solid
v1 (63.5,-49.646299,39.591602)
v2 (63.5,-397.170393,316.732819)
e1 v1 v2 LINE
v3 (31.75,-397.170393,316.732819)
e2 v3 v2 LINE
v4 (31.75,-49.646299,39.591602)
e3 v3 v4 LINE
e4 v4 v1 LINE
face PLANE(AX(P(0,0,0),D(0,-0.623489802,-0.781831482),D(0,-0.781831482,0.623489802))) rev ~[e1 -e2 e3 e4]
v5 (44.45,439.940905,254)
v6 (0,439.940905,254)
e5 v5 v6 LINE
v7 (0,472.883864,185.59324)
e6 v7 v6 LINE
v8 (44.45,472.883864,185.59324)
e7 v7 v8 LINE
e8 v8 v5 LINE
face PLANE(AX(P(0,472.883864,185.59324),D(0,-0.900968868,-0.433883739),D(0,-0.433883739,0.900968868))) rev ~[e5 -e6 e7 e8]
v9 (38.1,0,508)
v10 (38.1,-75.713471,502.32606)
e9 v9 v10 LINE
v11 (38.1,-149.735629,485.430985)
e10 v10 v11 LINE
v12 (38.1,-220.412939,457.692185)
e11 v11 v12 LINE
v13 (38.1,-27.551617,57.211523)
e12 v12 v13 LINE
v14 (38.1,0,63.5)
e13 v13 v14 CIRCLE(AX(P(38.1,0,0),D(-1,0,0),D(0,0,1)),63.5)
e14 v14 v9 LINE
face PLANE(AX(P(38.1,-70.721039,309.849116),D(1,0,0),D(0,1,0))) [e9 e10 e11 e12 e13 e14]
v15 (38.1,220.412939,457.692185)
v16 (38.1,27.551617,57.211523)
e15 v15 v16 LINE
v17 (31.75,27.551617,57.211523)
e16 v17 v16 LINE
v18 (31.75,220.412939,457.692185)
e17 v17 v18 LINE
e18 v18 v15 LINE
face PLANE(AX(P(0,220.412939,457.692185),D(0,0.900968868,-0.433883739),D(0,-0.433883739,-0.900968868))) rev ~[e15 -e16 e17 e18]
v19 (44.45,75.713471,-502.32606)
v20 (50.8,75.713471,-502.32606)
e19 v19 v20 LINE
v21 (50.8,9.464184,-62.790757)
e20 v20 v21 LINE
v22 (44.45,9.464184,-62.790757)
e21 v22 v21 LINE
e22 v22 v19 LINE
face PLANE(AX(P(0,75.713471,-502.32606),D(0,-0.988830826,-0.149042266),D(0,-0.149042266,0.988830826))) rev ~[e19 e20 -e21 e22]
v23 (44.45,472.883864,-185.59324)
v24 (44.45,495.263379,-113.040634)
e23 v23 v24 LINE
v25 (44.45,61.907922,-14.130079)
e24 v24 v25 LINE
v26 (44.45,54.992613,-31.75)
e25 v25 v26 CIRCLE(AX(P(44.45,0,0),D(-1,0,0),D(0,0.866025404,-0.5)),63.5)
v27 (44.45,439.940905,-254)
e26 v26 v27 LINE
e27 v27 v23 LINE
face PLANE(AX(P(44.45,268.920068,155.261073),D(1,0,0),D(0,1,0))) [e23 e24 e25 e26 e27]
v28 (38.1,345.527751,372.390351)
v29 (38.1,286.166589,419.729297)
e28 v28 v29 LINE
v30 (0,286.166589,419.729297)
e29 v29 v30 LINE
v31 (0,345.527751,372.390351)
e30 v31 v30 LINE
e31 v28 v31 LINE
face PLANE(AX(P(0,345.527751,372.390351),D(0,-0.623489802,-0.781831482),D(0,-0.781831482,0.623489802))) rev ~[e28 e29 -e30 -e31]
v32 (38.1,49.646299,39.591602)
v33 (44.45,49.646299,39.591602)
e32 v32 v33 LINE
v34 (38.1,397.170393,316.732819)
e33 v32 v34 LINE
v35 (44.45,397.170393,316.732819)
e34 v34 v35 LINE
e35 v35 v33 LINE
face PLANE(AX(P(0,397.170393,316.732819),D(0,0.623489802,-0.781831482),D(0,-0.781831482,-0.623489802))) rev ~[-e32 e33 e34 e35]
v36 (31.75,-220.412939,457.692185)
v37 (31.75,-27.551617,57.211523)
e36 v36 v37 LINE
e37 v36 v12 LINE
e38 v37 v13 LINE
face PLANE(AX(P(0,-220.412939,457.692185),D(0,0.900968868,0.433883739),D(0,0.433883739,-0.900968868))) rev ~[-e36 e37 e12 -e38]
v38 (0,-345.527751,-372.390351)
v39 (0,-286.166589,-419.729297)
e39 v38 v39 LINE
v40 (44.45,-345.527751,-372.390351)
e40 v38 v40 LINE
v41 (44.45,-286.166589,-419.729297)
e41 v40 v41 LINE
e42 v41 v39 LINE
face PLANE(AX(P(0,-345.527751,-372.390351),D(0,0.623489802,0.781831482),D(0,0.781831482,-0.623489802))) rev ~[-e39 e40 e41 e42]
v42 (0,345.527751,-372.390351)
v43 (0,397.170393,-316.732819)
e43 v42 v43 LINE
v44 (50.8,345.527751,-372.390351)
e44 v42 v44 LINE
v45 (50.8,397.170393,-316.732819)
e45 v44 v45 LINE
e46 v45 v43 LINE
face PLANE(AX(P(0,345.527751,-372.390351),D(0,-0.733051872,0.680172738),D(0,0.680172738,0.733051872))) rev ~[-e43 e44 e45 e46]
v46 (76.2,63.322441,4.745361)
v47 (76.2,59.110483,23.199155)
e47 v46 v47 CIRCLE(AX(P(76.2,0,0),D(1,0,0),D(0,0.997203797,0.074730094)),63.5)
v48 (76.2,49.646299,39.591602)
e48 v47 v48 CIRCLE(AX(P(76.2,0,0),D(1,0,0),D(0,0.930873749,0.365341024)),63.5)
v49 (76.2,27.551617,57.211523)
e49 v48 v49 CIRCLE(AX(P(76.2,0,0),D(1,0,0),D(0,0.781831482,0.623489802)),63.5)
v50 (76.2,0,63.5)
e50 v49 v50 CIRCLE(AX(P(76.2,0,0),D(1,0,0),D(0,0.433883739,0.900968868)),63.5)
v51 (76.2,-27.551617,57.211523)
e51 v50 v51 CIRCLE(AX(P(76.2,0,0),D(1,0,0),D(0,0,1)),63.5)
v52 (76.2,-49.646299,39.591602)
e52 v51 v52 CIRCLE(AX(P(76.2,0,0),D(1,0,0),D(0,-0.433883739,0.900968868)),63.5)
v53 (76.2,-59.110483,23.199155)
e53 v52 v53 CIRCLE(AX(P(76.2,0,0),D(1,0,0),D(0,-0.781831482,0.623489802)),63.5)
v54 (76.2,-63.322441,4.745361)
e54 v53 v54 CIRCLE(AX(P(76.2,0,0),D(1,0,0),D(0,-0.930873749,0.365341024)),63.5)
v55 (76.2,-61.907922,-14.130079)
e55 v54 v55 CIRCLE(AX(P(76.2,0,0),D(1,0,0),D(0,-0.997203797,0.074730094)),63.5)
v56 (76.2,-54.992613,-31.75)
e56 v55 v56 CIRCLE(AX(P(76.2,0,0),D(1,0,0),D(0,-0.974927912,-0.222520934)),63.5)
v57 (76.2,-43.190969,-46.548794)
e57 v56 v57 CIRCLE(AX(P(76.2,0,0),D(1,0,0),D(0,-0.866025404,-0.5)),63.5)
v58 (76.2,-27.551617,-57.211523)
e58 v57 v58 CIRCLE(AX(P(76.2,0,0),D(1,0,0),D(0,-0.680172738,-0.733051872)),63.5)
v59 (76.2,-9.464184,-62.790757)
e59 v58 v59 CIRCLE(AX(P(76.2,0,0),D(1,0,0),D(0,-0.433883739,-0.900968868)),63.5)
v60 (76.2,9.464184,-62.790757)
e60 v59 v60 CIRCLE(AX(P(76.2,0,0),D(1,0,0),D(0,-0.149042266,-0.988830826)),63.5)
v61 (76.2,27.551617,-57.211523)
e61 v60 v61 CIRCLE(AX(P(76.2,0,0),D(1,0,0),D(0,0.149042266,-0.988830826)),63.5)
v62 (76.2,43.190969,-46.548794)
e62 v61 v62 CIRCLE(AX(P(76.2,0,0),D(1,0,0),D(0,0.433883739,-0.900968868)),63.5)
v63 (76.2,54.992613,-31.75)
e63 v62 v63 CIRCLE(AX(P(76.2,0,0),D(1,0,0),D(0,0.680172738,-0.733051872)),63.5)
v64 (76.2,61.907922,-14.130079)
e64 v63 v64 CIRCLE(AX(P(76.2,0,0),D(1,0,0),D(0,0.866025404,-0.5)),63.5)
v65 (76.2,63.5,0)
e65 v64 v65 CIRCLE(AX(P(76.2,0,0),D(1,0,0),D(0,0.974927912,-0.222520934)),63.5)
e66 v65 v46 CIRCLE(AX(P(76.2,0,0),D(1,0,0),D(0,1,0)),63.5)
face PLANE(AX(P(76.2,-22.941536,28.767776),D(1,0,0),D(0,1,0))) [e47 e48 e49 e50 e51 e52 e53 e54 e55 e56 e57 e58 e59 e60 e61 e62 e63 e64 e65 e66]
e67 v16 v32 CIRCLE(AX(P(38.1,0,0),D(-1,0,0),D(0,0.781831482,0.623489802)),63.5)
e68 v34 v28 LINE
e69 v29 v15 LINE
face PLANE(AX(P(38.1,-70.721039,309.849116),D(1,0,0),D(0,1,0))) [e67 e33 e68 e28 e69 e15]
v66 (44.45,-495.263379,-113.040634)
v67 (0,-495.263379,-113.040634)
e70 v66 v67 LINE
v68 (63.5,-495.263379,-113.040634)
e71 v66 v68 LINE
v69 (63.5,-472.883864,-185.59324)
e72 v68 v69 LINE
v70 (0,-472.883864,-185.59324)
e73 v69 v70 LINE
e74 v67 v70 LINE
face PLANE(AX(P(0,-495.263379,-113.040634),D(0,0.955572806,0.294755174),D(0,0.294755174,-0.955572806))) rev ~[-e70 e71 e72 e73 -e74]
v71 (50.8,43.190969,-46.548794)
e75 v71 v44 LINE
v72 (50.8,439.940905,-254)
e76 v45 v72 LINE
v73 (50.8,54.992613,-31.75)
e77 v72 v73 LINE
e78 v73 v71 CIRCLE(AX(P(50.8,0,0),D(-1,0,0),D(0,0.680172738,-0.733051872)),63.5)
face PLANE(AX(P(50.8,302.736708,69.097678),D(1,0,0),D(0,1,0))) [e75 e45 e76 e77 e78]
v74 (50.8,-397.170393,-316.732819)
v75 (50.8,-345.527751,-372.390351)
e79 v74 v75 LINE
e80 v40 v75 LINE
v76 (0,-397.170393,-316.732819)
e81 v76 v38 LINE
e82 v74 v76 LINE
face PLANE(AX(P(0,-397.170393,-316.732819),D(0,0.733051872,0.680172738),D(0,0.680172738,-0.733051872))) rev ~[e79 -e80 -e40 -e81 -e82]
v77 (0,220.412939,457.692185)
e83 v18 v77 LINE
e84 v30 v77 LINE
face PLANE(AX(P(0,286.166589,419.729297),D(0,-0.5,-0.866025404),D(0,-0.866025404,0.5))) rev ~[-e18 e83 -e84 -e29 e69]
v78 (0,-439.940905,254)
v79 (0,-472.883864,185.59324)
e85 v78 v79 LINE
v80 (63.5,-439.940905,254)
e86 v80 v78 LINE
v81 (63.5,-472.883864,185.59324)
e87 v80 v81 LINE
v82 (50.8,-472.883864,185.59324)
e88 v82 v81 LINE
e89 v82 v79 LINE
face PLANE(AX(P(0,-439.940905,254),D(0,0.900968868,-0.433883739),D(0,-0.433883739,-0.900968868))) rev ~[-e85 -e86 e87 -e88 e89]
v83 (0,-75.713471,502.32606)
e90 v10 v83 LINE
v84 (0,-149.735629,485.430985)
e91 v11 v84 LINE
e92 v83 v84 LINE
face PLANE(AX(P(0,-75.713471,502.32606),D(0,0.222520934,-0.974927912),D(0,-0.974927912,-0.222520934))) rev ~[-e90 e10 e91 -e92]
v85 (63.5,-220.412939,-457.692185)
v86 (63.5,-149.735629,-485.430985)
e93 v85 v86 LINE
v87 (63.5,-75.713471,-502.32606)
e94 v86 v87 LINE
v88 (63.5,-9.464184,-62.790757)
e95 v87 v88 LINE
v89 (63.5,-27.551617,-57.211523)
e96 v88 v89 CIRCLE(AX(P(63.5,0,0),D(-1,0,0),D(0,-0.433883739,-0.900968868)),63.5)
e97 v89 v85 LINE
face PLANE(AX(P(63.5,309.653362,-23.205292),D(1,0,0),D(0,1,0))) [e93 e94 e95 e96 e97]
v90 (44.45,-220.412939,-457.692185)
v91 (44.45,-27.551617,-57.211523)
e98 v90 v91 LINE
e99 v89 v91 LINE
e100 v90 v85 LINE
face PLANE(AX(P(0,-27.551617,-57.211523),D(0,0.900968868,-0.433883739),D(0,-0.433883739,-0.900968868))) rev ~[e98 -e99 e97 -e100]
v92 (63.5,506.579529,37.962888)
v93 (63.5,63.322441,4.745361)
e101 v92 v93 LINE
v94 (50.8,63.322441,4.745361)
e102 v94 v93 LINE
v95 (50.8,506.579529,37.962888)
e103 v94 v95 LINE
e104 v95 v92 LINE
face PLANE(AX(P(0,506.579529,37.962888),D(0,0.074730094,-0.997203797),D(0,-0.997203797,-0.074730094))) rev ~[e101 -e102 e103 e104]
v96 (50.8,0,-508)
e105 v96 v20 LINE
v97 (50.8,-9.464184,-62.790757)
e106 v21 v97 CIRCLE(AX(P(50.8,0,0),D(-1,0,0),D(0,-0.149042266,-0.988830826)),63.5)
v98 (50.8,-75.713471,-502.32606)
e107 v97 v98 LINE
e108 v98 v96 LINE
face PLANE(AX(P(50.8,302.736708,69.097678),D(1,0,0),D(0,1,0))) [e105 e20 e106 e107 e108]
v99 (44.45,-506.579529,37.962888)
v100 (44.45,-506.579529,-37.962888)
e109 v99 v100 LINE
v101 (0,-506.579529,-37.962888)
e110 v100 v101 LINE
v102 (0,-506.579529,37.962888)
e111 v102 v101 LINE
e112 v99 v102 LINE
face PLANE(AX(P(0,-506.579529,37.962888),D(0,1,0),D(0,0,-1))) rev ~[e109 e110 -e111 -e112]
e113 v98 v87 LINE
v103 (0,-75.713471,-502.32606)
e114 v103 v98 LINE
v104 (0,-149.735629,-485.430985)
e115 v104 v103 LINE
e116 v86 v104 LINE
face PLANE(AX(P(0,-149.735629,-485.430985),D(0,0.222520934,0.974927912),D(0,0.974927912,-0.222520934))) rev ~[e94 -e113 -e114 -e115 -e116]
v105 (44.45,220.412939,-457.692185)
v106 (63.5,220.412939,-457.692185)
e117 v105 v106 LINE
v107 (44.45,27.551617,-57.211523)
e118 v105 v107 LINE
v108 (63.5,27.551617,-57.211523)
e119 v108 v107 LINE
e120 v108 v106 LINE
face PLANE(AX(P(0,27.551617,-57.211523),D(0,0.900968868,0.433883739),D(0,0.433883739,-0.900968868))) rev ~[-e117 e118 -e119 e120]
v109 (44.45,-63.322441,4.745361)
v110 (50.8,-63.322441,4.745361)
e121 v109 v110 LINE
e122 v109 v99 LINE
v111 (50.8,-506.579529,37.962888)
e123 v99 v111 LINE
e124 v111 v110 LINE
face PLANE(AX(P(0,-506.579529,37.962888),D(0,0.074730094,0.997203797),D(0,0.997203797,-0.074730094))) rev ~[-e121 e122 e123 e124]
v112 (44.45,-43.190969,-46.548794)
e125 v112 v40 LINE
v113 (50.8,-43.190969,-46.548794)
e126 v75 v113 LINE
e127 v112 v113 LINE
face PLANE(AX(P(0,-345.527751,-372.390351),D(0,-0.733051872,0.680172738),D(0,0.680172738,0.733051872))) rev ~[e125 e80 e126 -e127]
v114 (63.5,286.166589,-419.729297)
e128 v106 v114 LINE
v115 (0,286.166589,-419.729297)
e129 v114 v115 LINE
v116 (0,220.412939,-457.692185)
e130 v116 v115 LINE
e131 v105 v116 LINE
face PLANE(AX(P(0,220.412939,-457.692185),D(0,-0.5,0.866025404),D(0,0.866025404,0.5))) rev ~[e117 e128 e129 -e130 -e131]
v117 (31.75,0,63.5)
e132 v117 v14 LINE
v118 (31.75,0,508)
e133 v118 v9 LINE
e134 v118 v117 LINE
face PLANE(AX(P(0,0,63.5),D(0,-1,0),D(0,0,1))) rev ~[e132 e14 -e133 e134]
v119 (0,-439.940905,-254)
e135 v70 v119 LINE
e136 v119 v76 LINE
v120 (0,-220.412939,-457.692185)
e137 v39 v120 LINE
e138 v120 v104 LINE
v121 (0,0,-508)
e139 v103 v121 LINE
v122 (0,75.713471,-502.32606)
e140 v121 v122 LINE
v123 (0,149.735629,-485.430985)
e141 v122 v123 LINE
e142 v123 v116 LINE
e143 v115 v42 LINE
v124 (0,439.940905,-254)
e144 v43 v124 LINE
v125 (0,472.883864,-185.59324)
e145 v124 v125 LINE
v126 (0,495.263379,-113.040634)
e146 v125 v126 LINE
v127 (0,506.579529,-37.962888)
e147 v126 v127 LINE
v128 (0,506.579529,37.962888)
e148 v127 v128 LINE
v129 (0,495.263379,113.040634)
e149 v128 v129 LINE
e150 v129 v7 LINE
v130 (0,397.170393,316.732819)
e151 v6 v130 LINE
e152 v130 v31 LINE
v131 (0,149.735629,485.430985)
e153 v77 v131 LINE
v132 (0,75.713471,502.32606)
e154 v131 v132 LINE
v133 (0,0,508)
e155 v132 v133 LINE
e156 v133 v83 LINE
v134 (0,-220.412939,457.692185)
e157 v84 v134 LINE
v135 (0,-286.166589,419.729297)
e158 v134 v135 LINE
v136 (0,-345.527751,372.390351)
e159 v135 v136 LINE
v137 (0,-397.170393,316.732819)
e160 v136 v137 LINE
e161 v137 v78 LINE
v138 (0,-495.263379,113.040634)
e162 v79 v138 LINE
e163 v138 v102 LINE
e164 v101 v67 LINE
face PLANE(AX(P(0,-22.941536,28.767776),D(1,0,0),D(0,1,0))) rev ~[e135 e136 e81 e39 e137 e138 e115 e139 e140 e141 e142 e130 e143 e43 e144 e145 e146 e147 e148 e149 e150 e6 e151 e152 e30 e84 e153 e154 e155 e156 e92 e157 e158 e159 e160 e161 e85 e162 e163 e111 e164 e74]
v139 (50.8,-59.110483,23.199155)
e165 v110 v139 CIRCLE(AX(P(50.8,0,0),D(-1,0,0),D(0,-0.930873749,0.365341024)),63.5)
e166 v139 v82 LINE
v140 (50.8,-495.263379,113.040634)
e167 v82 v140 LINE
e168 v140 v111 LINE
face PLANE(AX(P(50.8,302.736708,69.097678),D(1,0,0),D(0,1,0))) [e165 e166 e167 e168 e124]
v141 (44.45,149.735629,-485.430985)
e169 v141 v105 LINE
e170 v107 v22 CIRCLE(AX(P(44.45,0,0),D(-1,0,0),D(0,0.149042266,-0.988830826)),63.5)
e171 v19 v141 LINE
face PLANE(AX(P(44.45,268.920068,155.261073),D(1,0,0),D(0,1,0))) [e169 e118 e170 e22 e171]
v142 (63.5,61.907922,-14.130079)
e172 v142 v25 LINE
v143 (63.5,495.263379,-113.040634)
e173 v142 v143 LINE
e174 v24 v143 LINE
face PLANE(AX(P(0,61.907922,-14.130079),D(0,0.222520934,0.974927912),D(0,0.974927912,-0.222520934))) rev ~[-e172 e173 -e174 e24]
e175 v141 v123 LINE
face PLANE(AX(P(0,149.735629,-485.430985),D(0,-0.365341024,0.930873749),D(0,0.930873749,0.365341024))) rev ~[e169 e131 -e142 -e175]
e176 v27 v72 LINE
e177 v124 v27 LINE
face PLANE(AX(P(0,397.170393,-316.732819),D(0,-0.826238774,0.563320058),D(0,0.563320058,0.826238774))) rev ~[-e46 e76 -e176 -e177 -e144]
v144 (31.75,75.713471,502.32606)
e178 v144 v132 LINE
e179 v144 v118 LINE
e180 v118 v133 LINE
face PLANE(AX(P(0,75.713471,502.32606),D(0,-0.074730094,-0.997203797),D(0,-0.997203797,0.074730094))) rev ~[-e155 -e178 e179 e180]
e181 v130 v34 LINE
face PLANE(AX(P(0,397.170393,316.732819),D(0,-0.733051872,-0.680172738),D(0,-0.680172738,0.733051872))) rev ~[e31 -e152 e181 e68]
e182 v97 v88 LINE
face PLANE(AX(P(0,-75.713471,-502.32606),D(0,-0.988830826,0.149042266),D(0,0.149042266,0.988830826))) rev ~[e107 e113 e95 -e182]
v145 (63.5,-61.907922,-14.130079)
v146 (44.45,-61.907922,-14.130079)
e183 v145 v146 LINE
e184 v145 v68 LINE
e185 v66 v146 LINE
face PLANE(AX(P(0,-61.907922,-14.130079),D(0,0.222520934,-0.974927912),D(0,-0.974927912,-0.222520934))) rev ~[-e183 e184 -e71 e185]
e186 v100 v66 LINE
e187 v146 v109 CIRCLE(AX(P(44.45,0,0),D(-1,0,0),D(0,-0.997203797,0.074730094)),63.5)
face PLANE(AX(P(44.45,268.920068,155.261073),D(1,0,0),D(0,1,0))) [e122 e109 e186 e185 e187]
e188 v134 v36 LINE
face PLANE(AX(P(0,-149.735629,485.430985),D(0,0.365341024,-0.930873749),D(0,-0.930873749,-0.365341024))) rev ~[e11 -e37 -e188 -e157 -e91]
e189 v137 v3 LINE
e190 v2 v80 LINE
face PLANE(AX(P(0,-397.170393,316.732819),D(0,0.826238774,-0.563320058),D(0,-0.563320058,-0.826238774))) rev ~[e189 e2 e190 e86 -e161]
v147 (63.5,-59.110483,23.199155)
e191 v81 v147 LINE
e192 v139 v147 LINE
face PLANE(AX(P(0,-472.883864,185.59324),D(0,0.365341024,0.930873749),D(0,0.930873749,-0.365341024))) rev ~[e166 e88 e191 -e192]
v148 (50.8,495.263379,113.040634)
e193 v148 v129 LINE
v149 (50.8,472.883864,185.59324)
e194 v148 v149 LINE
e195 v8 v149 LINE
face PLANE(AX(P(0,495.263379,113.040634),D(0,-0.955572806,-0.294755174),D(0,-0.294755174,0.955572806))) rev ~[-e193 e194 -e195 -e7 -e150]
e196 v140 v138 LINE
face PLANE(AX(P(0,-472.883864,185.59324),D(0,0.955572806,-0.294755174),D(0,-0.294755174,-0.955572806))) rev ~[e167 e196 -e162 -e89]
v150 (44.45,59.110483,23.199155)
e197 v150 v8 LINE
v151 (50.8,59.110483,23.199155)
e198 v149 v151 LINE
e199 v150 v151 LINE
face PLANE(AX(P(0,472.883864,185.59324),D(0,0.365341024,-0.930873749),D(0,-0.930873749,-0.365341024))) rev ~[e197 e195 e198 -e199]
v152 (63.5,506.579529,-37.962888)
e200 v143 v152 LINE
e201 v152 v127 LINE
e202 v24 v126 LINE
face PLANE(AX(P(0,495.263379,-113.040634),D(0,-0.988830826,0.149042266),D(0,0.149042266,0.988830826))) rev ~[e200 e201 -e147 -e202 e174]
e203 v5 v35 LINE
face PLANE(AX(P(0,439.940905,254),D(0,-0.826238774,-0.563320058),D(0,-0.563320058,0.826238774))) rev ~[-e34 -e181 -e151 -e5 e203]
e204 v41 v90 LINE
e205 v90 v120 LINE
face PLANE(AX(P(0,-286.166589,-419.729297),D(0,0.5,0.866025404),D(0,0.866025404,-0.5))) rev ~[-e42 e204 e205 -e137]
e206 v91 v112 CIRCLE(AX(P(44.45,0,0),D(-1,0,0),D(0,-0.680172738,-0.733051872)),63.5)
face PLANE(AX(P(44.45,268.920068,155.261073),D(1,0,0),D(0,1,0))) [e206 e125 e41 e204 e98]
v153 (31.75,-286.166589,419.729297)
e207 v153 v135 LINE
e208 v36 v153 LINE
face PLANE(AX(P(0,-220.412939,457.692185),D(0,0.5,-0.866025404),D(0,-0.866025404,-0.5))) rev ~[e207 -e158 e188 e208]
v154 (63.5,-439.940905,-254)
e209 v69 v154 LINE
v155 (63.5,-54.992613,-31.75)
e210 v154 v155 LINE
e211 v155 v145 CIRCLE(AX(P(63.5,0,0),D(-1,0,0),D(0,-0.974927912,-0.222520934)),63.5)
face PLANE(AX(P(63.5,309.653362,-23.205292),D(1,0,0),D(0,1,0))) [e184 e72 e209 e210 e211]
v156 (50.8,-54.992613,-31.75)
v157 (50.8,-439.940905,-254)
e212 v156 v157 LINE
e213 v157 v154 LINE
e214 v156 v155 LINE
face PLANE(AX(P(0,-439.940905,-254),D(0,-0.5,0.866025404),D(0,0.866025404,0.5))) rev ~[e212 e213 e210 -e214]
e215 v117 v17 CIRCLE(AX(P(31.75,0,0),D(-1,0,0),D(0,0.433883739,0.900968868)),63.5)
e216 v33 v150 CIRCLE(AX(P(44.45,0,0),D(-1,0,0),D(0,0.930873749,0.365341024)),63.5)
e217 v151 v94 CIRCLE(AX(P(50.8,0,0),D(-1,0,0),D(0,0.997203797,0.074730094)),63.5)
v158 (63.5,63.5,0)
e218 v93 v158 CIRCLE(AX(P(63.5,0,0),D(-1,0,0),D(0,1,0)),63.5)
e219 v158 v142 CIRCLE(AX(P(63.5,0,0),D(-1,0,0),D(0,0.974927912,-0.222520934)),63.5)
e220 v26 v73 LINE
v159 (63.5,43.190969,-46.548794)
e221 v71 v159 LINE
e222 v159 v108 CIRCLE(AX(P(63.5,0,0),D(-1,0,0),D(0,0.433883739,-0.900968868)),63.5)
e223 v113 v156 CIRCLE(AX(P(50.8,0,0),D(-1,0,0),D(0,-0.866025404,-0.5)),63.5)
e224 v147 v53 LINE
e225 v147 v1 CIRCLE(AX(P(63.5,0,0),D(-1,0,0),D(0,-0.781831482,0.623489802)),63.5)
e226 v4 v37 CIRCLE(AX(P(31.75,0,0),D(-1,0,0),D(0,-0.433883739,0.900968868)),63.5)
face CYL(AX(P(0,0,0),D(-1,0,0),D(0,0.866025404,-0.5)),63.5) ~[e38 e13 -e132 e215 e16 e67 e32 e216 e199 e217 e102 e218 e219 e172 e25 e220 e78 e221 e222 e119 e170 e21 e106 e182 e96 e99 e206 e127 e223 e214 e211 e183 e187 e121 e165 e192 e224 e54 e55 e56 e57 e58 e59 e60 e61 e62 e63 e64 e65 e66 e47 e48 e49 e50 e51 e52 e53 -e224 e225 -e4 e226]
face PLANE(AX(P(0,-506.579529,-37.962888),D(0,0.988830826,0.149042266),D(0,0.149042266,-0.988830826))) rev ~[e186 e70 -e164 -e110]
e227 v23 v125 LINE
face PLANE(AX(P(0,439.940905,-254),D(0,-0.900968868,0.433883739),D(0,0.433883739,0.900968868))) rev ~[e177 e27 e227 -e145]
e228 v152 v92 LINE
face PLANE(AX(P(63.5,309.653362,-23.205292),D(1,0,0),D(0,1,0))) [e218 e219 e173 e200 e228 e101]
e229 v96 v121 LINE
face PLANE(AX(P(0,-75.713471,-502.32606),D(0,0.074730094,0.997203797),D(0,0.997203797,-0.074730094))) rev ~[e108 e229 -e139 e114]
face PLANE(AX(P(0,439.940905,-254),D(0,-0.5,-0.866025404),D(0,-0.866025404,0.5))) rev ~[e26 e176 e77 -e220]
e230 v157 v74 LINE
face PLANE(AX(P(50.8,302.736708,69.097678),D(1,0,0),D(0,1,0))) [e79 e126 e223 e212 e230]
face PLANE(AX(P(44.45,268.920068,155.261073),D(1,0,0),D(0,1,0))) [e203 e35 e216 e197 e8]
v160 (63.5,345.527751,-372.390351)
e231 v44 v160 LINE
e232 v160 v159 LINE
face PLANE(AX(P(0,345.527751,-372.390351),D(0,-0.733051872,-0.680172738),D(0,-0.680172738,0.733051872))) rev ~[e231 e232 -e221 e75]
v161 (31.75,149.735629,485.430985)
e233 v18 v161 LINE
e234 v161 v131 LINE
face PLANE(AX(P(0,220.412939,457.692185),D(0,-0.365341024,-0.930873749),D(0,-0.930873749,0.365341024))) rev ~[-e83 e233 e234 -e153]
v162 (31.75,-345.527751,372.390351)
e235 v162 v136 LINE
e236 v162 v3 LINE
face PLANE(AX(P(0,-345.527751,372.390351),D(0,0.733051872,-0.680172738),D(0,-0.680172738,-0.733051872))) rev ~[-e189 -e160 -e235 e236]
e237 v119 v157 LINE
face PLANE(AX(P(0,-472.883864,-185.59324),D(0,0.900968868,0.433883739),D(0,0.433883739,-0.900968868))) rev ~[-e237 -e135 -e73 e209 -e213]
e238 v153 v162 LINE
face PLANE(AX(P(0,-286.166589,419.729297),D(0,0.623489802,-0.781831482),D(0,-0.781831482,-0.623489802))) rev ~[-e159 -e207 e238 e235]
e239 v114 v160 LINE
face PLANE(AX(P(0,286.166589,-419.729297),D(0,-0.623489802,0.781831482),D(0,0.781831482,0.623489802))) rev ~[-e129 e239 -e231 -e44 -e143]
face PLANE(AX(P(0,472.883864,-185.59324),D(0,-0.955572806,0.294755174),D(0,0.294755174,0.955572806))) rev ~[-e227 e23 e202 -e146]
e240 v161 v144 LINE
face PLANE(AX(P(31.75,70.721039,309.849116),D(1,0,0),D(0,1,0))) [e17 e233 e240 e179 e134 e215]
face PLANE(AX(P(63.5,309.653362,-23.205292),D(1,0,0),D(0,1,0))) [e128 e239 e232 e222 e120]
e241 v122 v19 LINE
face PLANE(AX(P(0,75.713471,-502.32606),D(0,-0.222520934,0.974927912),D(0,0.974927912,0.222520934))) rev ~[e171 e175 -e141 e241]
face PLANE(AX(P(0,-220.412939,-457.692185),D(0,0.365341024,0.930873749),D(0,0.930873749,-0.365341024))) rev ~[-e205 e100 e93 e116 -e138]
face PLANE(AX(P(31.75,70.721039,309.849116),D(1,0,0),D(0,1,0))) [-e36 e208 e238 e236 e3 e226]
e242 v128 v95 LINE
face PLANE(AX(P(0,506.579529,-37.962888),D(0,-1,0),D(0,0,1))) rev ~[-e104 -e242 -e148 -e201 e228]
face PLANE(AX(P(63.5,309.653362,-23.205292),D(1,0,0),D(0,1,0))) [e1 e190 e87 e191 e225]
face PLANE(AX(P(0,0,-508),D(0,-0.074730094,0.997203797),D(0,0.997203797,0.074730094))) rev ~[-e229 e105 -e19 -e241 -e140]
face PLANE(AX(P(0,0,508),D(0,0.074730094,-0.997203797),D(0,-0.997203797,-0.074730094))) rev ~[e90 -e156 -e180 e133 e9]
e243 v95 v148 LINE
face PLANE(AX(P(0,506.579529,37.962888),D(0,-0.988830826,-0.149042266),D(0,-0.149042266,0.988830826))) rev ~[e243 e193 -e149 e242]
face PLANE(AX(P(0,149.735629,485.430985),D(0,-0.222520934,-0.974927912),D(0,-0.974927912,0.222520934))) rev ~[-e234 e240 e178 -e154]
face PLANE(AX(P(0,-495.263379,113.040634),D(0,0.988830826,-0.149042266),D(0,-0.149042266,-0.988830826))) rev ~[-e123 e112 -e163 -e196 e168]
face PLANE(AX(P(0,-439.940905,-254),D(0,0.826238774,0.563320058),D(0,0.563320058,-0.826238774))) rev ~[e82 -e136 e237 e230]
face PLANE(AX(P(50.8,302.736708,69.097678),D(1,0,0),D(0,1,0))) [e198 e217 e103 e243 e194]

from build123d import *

# Parameters (mm, degrees)
F1_DEPTH = 25.4
F2_DEPTH = 31.75
F3_DEPTH = 38.1
F4_DEPTH = 44.45
F5_DEPTH = 50.8
F6_DEPTH = 63.5
F7_DEPTH = 76.2


with BuildPart() as f1:
    # F0 (on Right) → F1 (new body)
    with BuildSketch(Plane.YZ):
        with BuildLine():
            ThreePointArc((-27.551617434, 57.2115231118), (-14.1300793062, 61.9079224235), (0, 63.5))
            Line((0, 63.5), (0, 508))
            Line((0, 508), (-75.7134712175, 502.3260597224))
            Line((-75.7134712175, 502.3260597224), (-149.7356286007, 485.4309853394))
            Line((-149.7356286007, 485.4309853394), (-220.4129394717, 457.6921848944))
            Line((-220.4129394717, 457.6921848944), (-27.551617434, 57.2115231118))
        make_face()
        with BuildLine():
            Line((0, 508), (0, 63.5))
            ThreePointArc((0, 63.5), (14.1300793062, 61.9079224235), (27.551617434, 57.2115231118))
            Line((27.551617434, 57.2115231118), (220.4129394717, 457.6921848944))
            Line((220.4129394717, 457.6921848944), (149.7356286007, 485.4309853394))
            Line((149.7356286007, 485.4309853394), (75.7134712175, 502.3260597224))
            Line((75.7134712175, 502.3260597224), (0, 508))
        make_face()
        with BuildLine():
            Line((220.4129394717, 457.6921848944), (27.551617434, 57.2115231118))
            ThreePointArc((27.551617434, 57.2115231118), (39.591602418, 49.6462991367), (49.6462991367, 39.591602418))
            Line((49.6462991367, 39.591602418), (397.1703930938, 316.7328193442))
            Line((397.1703930938, 316.7328193442), (345.5277507876, 372.3903508896))
            Line((345.5277507876, 372.3903508896), (286.1665894963, 419.7292973525))
            Line((286.1665894963, 419.7292973525), (220.4129394717, 457.6921848944))
        make_face()
        with BuildLine():
            Line((59.1104830389, 23.1991550473), (472.8838643113, 185.5932403781))
            Line((472.8838643113, 185.5932403781), (439.9409051225, 254))
            Line((439.9409051225, 254), (397.1703930938, 316.7328193442))
            Line((397.1703930938, 316.7328193442), (49.6462991367, 39.591602418))
            ThreePointArc((49.6462991367, 39.591602418), (54.9926131403, 31.75), (59.1104830389, 23.1991550473))
        make_face()
        with BuildLine():
            Line((63.322441121, 4.7453609427), (506.579528968, 37.9628875419))
            Line((506.579528968, 37.9628875419), (495.2633793884, 113.0406344498))
            Line((495.2633793884, 113.0406344498), (472.8838643113, 185.5932403781))
            Line((472.8838643113, 185.5932403781), (59.1104830389, 23.1991550473))
            ThreePointArc((59.1104830389, 23.1991550473), (61.9079224235, 14.1300793062), (63.322441121, 4.7453609427))
        make_face()
        with BuildLine():
            Line((506.579528968, -37.9628875419), (506.579528968, 37.9628875419))
            Line((506.579528968, 37.9628875419), (63.322441121, 4.7453609427))
            ThreePointArc((63.322441121, 4.7453609427), (63.4555947541, 2.3743408365), (63.5, 0))
            ThreePointArc((63.5, 0), (63.1007253282, -7.1097442326), (61.9079224235, -14.1300793062))
            Line((61.9079224235, -14.1300793062), (495.2633793884, -113.0406344498))
            Line((495.2633793884, -113.0406344498), (506.579528968, -37.9628875419))
        make_face()
        with BuildLine():
            Line((472.8838643113, -185.5932403781), (495.2633793884, -113.0406344498))
            Line((495.2633793884, -113.0406344498), (61.9079224235, -14.1300793062))
            ThreePointArc((61.9079224235, -14.1300793062), (59.1104830389, -23.1991550473), (54.9926131403, -31.75))
            Line((54.9926131403, -31.75), (439.9409051225, -254))
            Line((439.9409051225, -254), (472.8838643113, -185.5932403781))
        make_face()
        with BuildLine():
            Line((439.9409051225, -254), (54.9926131403, -31.75))
            ThreePointArc((54.9926131403, -31.75), (49.6462991367, -39.591602418), (43.1909688485, -46.5487938612))
            Line((43.1909688485, -46.5487938612), (345.5277507876, -372.3903508896))
            Line((345.5277507876, -372.3903508896), (397.1703930938, -316.7328193442))
            Line((397.1703930938, -316.7328193442), (439.9409051225, -254))
        make_face()
        with BuildLine():
            Line((345.5277507876, -372.3903508896), (43.1909688485, -46.5487938612))
            ThreePointArc((43.1909688485, -46.5487938612), (35.770823687, -52.4661621691), (27.551617434, -57.2115231118))
            Line((27.551617434, -57.2115231118), (220.4129394717, -457.6921848944))
            Line((220.4129394717, -457.6921848944), (286.1665894963, -419.7292973525))
            Line((286.1665894963, -419.7292973525), (345.5277507876, -372.3903508896))
        make_face()
        with BuildLine():
            Line((220.4129394717, -457.6921848944), (27.551617434, -57.2115231118))
            ThreePointArc((27.551617434, -57.2115231118), (18.7169535751, -60.6788731674), (9.4641839022, -62.7907574653))
            Line((9.4641839022, -62.7907574653), (75.7134712175, -502.3260597224))
            Line((75.7134712175, -502.3260597224), (149.7356286007, -485.4309853394))
            Line((149.7356286007, -485.4309853394), (220.4129394717, -457.6921848944))
        make_face()
        with BuildLine():
            Line((75.7134712175, -502.3260597224), (9.4641839022, -62.7907574653))
            ThreePointArc((9.4641839022, -62.7907574653), (0, -63.5), (-9.4641839022, -62.7907574653))
            Line((-9.4641839022, -62.7907574653), (-75.7134712175, -502.3260597224))
            Line((-75.7134712175, -502.3260597224), (0, -508))
            Line((0, -508), (75.7134712175, -502.3260597224))
        make_face()
        with BuildLine():
            Line((-75.7134712175, -502.3260597224), (-9.4641839022, -62.7907574653))
            ThreePointArc((-9.4641839022, -62.7907574653), (-18.7169535751, -60.6788731674), (-27.551617434, -57.2115231118))
            Line((-27.551617434, -57.2115231118), (-220.4129394717, -457.6921848944))
            Line((-220.4129394717, -457.6921848944), (-149.7356286007, -485.4309853394))
            Line((-149.7356286007, -485.4309853394), (-75.7134712175, -502.3260597224))
        make_face()
        with BuildLine():
            Line((-220.4129394717, -457.6921848944), (-27.551617434, -57.2115231118))
            ThreePointArc((-27.551617434, -57.2115231118), (-35.770823687, -52.4661621691), (-43.1909688485, -46.5487938612))
            Line((-43.1909688485, -46.5487938612), (-345.5277507876, -372.3903508896))
            Line((-345.5277507876, -372.3903508896), (-286.1665894963, -419.7292973525))
            Line((-286.1665894963, -419.7292973525), (-220.4129394717, -457.6921848944))
        make_face()
        with BuildLine():
            Line((-345.5277507876, -372.3903508896), (-43.1909688485, -46.5487938612))
            ThreePointArc((-43.1909688485, -46.5487938612), (-49.6462991367, -39.591602418), (-54.9926131403, -31.75))
            Line((-54.9926131403, -31.75), (-439.9409051225, -254))
            Line((-439.9409051225, -254), (-397.1703930938, -316.7328193442))
            Line((-397.1703930938, -316.7328193442), (-345.5277507876, -372.3903508896))
        make_face()
        with BuildLine():
            Line((-439.9409051225, -254), (-54.9926131403, -31.75))
            ThreePointArc((-54.9926131403, -31.75), (-59.1104830389, -23.1991550473), (-61.9079224235, -14.1300793062))
            Line((-61.9079224235, -14.1300793062), (-495.2633793884, -113.0406344498))
            Line((-495.2633793884, -113.0406344498), (-472.8838643113, -185.5932403781))
            Line((-472.8838643113, -185.5932403781), (-439.9409051225, -254))
        make_face()
        with BuildLine():
            Line((-495.2633793884, -113.0406344498), (-61.9079224235, -14.1300793062))
            ThreePointArc((-61.9079224235, -14.1300793062), (-63.322441121, -4.7453609427), (-63.322441121, 4.7453609427))
            Line((-63.322441121, 4.7453609427), (-506.579528968, 37.9628875419))
            Line((-506.579528968, 37.9628875419), (-506.579528968, -37.9628875419))
            Line((-506.579528968, -37.9628875419), (-495.2633793884, -113.0406344498))
        make_face()
        with BuildLine():
            Line((-506.579528968, 37.9628875419), (-63.322441121, 4.7453609427))
            ThreePointArc((-63.322441121, 4.7453609427), (-61.9079224235, 14.1300793062), (-59.1104830389, 23.1991550473))
            Line((-59.1104830389, 23.1991550473), (-472.8838643113, 185.5932403781))
            Line((-472.8838643113, 185.5932403781), (-495.2633793884, 113.0406344498))
            Line((-495.2633793884, 113.0406344498), (-506.579528968, 37.9628875419))
        make_face()
        with BuildLine():
            ThreePointArc((-59.1104830389, 23.1991550473), (-54.9926131403, 31.75), (-49.6462991367, 39.591602418))
            Line((-49.6462991367, 39.591602418), (-397.1703930938, 316.7328193442))
            Line((-397.1703930938, 316.7328193442), (-439.9409051225, 254))
            Line((-439.9409051225, 254), (-472.8838643113, 185.5932403781))
            Line((-472.8838643113, 185.5932403781), (-59.1104830389, 23.1991550473))
        make_face()
        with BuildLine():
            ThreePointArc((-49.6462991367, 39.591602418), (-39.591602418, 49.6462991367), (-27.551617434, 57.2115231118))
            Line((-27.551617434, 57.2115231118), (-220.4129394717, 457.6921848944))
            Line((-220.4129394717, 457.6921848944), (-286.1665894963, 419.7292973525))
            Line((-286.1665894963, 419.7292973525), (-345.5277507876, 372.3903508896))
            Line((-345.5277507876, 372.3903508896), (-397.1703930938, 316.7328193442))
            Line((-397.1703930938, 316.7328193442), (-49.6462991367, 39.591602418))
        make_face()
    extrude(amount=F1_DEPTH)

    # F0 (on Right) → F2 (join)
    with BuildSketch(Plane.YZ):
        with BuildLine():
            Line((0, 508), (0, 63.5))
            ThreePointArc((0, 63.5), (14.1300793062, 61.9079224235), (27.551617434, 57.2115231118))
            Line((27.551617434, 57.2115231118), (220.4129394717, 457.6921848944))
            Line((220.4129394717, 457.6921848944), (149.7356286007, 485.4309853394))
            Line((149.7356286007, 485.4309853394), (75.7134712175, 502.3260597224))
            Line((75.7134712175, 502.3260597224), (0, 508))
        make_face()
        with BuildLine():
            ThreePointArc((-49.6462991367, 39.591602418), (-39.591602418, 49.6462991367), (-27.551617434, 57.2115231118))
            Line((-27.551617434, 57.2115231118), (-220.4129394717, 457.6921848944))
            Line((-220.4129394717, 457.6921848944), (-286.1665894963, 419.7292973525))
            Line((-286.1665894963, 419.7292973525), (-345.5277507876, 372.3903508896))
            Line((-345.5277507876, 372.3903508896), (-397.1703930938, 316.7328193442))
            Line((-397.1703930938, 316.7328193442), (-49.6462991367, 39.591602418))
        make_face()
        with BuildLine():
            Line((0, 63.5), (0, 0))
            Line((0, 0), (27.551617434, 57.2115231118))
            ThreePointArc((27.551617434, 57.2115231118), (14.1300793062, 61.9079224235), (0, 63.5))
        make_face()
        with BuildLine():
            Line((-27.551617434, 57.2115231118), (0, 0))
            Line((0, 0), (0, 63.5))
            ThreePointArc((0, 63.5), (-14.1300793062, 61.9079224235), (-27.551617434, 57.2115231118))
        make_face()
        with BuildLine():
            Line((-49.6462991367, 39.591602418), (0, 0))
            Line((0, 0), (-27.551617434, 57.2115231118))
            ThreePointArc((-27.551617434, 57.2115231118), (-39.591602418, 49.6462991367), (-49.6462991367, 39.591602418))
        make_face()
    extrude(amount=F2_DEPTH)

    # F0 (on Right) → F3 (join)
    with BuildSketch(Plane.YZ):
        with BuildLine():
            ThreePointArc((-27.551617434, 57.2115231118), (-14.1300793062, 61.9079224235), (0, 63.5))
            Line((0, 63.5), (0, 508))
            Line((0, 508), (-75.7134712175, 502.3260597224))
            Line((-75.7134712175, 502.3260597224), (-149.7356286007, 485.4309853394))
            Line((-149.7356286007, 485.4309853394), (-220.4129394717, 457.6921848944))
            Line((-220.4129394717, 457.6921848944), (-27.551617434, 57.2115231118))
        make_face()
        with BuildLine():
            Line((220.4129394717, 457.6921848944), (27.551617434, 57.2115231118))
            ThreePointArc((27.551617434, 57.2115231118), (39.591602418, 49.6462991367), (49.6462991367, 39.591602418))
            Line((49.6462991367, 39.591602418), (397.1703930938, 316.7328193442))
            Line((397.1703930938, 316.7328193442), (345.5277507876, 372.3903508896))
            Line((345.5277507876, 372.3903508896), (286.1665894963, 419.7292973525))
            Line((286.1665894963, 419.7292973525), (220.4129394717, 457.6921848944))
        make_face()
        with BuildLine():
            Line((27.551617434, 57.2115231118), (0, 0))
            Line((0, 0), (49.6462991367, 39.591602418))
            ThreePointArc((49.6462991367, 39.591602418), (39.591602418, 49.6462991367), (27.551617434, 57.2115231118))
        make_face()
        with BuildLine():
            Line((0, 63.5), (0, 0))
            Line((0, 0), (27.551617434, 57.2115231118))
            ThreePointArc((27.551617434, 57.2115231118), (14.1300793062, 61.9079224235), (0, 63.5))
        make_face()
        with BuildLine():
            Line((-27.551617434, 57.2115231118), (0, 0))
            Line((0, 0), (0, 63.5))
            ThreePointArc((0, 63.5), (-14.1300793062, 61.9079224235), (-27.551617434, 57.2115231118))
        make_face()
    extrude(amount=F3_DEPTH)

    # F0 (on Right) → F4 (join)
    with BuildSketch(Plane.YZ):
        with BuildLine():
            Line((59.1104830389, 23.1991550473), (472.8838643113, 185.5932403781))
            Line((472.8838643113, 185.5932403781), (439.9409051225, 254))
            Line((439.9409051225, 254), (397.1703930938, 316.7328193442))
            Line((397.1703930938, 316.7328193442), (49.6462991367, 39.591602418))
            ThreePointArc((49.6462991367, 39.591602418), (54.9926131403, 31.75), (59.1104830389, 23.1991550473))
        make_face()
        with BuildLine():
            Line((472.8838643113, -185.5932403781), (495.2633793884, -113.0406344498))
            Line((495.2633793884, -113.0406344498), (61.9079224235, -14.1300793062))
            ThreePointArc((61.9079224235, -14.1300793062), (59.1104830389, -23.1991550473), (54.9926131403, -31.75))
            Line((54.9926131403, -31.75), (439.9409051225, -254))
            Line((439.9409051225, -254), (472.8838643113, -185.5932403781))
        make_face()
        with BuildLine():
            Line((220.4129394717, -457.6921848944), (27.551617434, -57.2115231118))
            ThreePointArc((27.551617434, -57.2115231118), (18.7169535751, -60.6788731674), (9.4641839022, -62.7907574653))
            Line((9.4641839022, -62.7907574653), (75.7134712175, -502.3260597224))
            Line((75.7134712175, -502.3260597224), (149.7356286007, -485.4309853394))
            Line((149.7356286007, -485.4309853394), (220.4129394717, -457.6921848944))
        make_face()
        with BuildLine():
            Line((-220.4129394717, -457.6921848944), (-27.551617434, -57.2115231118))
            ThreePointArc((-27.551617434, -57.2115231118), (-35.770823687, -52.4661621691), (-43.1909688485, -46.5487938612))
            Line((-43.1909688485, -46.5487938612), (-345.5277507876, -372.3903508896))
            Line((-345.5277507876, -372.3903508896), (-286.1665894963, -419.7292973525))
            Line((-286.1665894963, -419.7292973525), (-220.4129394717, -457.6921848944))
        make_face()
        with BuildLine():
            Line((-495.2633793884, -113.0406344498), (-61.9079224235, -14.1300793062))
            ThreePointArc((-61.9079224235, -14.1300793062), (-63.322441121, -4.7453609427), (-63.322441121, 4.7453609427))
            Line((-63.322441121, 4.7453609427), (-506.579528968, 37.9628875419))
            Line((-506.579528968, 37.9628875419), (-506.579528968, -37.9628875419))
            Line((-506.579528968, -37.9628875419), (-495.2633793884, -113.0406344498))
        make_face()
        with BuildLine():
            Line((49.6462991367, 39.591602418), (0, 0))
            Line((0, 0), (59.1104830389, 23.1991550473))
            ThreePointArc((59.1104830389, 23.1991550473), (54.9926131403, 31.75), (49.6462991367, 39.591602418))
        make_face()
        with BuildLine():
            Line((0, 0), (63.322441121, 4.7453609427))
            ThreePointArc((63.322441121, 4.7453609427), (61.9079224235, 14.1300793062), (59.1104830389, 23.1991550473))
            Line((59.1104830389, 23.1991550473), (0, 0))
        make_face()
        with BuildLine():
            ThreePointArc((63.5, 0), (63.4555947541, 2.3743408365), (63.322441121, 4.7453609427))
            Line((63.322441121, 4.7453609427), (0, 0))
            Line((0, 0), (61.9079224235, -14.1300793062))
            ThreePointArc((61.9079224235, -14.1300793062), (63.1007253282, -7.1097442326), (63.5, 0))
        make_face()
        with BuildLine():
            Line((61.9079224235, -14.1300793062), (0, 0))
            Line((0, 0), (54.9926131403, -31.75))
            ThreePointArc((54.9926131403, -31.75), (59.1104830389, -23.1991550473), (61.9079224235, -14.1300793062))
        make_face()
        with BuildLine():
            Line((54.9926131403, -31.75), (0, 0))
            Line((0, 0), (43.1909688485, -46.5487938612))
            ThreePointArc((43.1909688485, -46.5487938612), (49.6462991367, -39.591602418), (54.9926131403, -31.75))
        make_face()
        with BuildLine():
            Line((43.1909688485, -46.5487938612), (0, 0))
            Line((0, 0), (27.551617434, -57.2115231118))
            ThreePointArc((27.551617434, -57.2115231118), (35.770823687, -52.4661621691), (43.1909688485, -46.5487938612))
        make_face()
        with BuildLine():
            Line((27.551617434, -57.2115231118), (0, 0))
            Line((0, 0), (9.4641839022, -62.7907574653))
            ThreePointArc((9.4641839022, -62.7907574653), (18.7169535751, -60.6788731674), (27.551617434, -57.2115231118))
        make_face()
        with BuildLine():
            Line((9.4641839022, -62.7907574653), (0, 0))
            Line((0, 0), (-9.4641839022, -62.7907574653))
            ThreePointArc((-9.4641839022, -62.7907574653), (0, -63.5), (9.4641839022, -62.7907574653))
        make_face()
        with BuildLine():
            Line((-9.4641839022, -62.7907574653), (0, 0))
            Line((0, 0), (-27.551617434, -57.2115231118))
            ThreePointArc((-27.551617434, -57.2115231118), (-18.7169535751, -60.6788731674), (-9.4641839022, -62.7907574653))
        make_face()
        with BuildLine():
            Line((-27.551617434, -57.2115231118), (0, 0))
            Line((0, 0), (-43.1909688485, -46.5487938612))
            ThreePointArc((-43.1909688485, -46.5487938612), (-35.770823687, -52.4661621691), (-27.551617434, -57.2115231118))
        make_face()
        with BuildLine():
            Line((-43.1909688485, -46.5487938612), (0, 0))
            Line((0, 0), (-54.9926131403, -31.75))
            ThreePointArc((-54.9926131403, -31.75), (-49.6462991367, -39.591602418), (-43.1909688485, -46.5487938612))
        make_face()
        with BuildLine():
            Line((-54.9926131403, -31.75), (0, 0))
            Line((0, 0), (-61.9079224235, -14.1300793062))
            ThreePointArc((-61.9079224235, -14.1300793062), (-59.1104830389, -23.1991550473), (-54.9926131403, -31.75))
        make_face()
        with BuildLine():
            Line((-61.9079224235, -14.1300793062), (0, 0))
            Line((0, 0), (-63.322441121, 4.7453609427))
            ThreePointArc((-63.322441121, 4.7453609427), (-63.322441121, -4.7453609427), (-61.9079224235, -14.1300793062))
        make_face()
    extrude(amount=F4_DEPTH)

    # F0 (on Right) → F5 (join)
    with BuildSketch(Plane.YZ):
        with BuildLine():
            Line((63.322441121, 4.7453609427), (506.579528968, 37.9628875419))
            Line((506.579528968, 37.9628875419), (495.2633793884, 113.0406344498))
            Line((495.2633793884, 113.0406344498), (472.8838643113, 185.5932403781))
            Line((472.8838643113, 185.5932403781), (59.1104830389, 23.1991550473))
            ThreePointArc((59.1104830389, 23.1991550473), (61.9079224235, 14.1300793062), (63.322441121, 4.7453609427))
        make_face()
        with BuildLine():
            Line((439.9409051225, -254), (54.9926131403, -31.75))
            ThreePointArc((54.9926131403, -31.75), (49.6462991367, -39.591602418), (43.1909688485, -46.5487938612))
            Line((43.1909688485, -46.5487938612), (345.5277507876, -372.3903508896))
            Line((345.5277507876, -372.3903508896), (397.1703930938, -316.7328193442))
            Line((397.1703930938, -316.7328193442), (439.9409051225, -254))
        make_face()
        with BuildLine():
            Line((75.7134712175, -502.3260597224), (9.4641839022, -62.7907574653))
            ThreePointArc((9.4641839022, -62.7907574653), (0, -63.5), (-9.4641839022, -62.7907574653))
            Line((-9.4641839022, -62.7907574653), (-75.7134712175, -502.3260597224))
            Line((-75.7134712175, -502.3260597224), (0, -508))
            Line((0, -508), (75.7134712175, -502.3260597224))
        make_face()
        with BuildLine():
            Line((-345.5277507876, -372.3903508896), (-43.1909688485, -46.5487938612))
            ThreePointArc((-43.1909688485, -46.5487938612), (-49.6462991367, -39.591602418), (-54.9926131403, -31.75))
            Line((-54.9926131403, -31.75), (-439.9409051225, -254))
            Line((-439.9409051225, -254), (-397.1703930938, -316.7328193442))
            Line((-397.1703930938, -316.7328193442), (-345.5277507876, -372.3903508896))
        make_face()
        with BuildLine():
            Line((-506.579528968, 37.9628875419), (-63.322441121, 4.7453609427))
            ThreePointArc((-63.322441121, 4.7453609427), (-61.9079224235, 14.1300793062), (-59.1104830389, 23.1991550473))
            Line((-59.1104830389, 23.1991550473), (-472.8838643113, 185.5932403781))
            Line((-472.8838643113, 185.5932403781), (-495.2633793884, 113.0406344498))
            Line((-495.2633793884, 113.0406344498), (-506.579528968, 37.9628875419))
        make_face()
        with BuildLine():
            Line((0, 0), (63.322441121, 4.7453609427))
            ThreePointArc((63.322441121, 4.7453609427), (61.9079224235, 14.1300793062), (59.1104830389, 23.1991550473))
            Line((59.1104830389, 23.1991550473), (0, 0))
        make_face()
        with BuildLine():
            ThreePointArc((63.5, 0), (63.4555947541, 2.3743408365), (63.322441121, 4.7453609427))
            Line((63.322441121, 4.7453609427), (0, 0))
            Line((0, 0), (61.9079224235, -14.1300793062))
            ThreePointArc((61.9079224235, -14.1300793062), (63.1007253282, -7.1097442326), (63.5, 0))
        make_face()
        with BuildLine():
            Line((61.9079224235, -14.1300793062), (0, 0))
            Line((0, 0), (54.9926131403, -31.75))
            ThreePointArc((54.9926131403, -31.75), (59.1104830389, -23.1991550473), (61.9079224235, -14.1300793062))
        make_face()
        with BuildLine():
            Line((54.9926131403, -31.75), (0, 0))
            Line((0, 0), (43.1909688485, -46.5487938612))
            ThreePointArc((43.1909688485, -46.5487938612), (49.6462991367, -39.591602418), (54.9926131403, -31.75))
        make_face()
        with BuildLine():
            Line((43.1909688485, -46.5487938612), (0, 0))
            Line((0, 0), (27.551617434, -57.2115231118))
            ThreePointArc((27.551617434, -57.2115231118), (35.770823687, -52.4661621691), (43.1909688485, -46.5487938612))
        make_face()
        with BuildLine():
            Line((27.551617434, -57.2115231118), (0, 0))
            Line((0, 0), (9.4641839022, -62.7907574653))
            ThreePointArc((9.4641839022, -62.7907574653), (18.7169535751, -60.6788731674), (27.551617434, -57.2115231118))
        make_face()
        with BuildLine():
            Line((9.4641839022, -62.7907574653), (0, 0))
            Line((0, 0), (-9.4641839022, -62.7907574653))
            ThreePointArc((-9.4641839022, -62.7907574653), (0, -63.5), (9.4641839022, -62.7907574653))
        make_face()
        with BuildLine():
            Line((-9.4641839022, -62.7907574653), (0, 0))
            Line((0, 0), (-27.551617434, -57.2115231118))
            ThreePointArc((-27.551617434, -57.2115231118), (-18.7169535751, -60.6788731674), (-9.4641839022, -62.7907574653))
        make_face()
        with BuildLine():
            Line((-27.551617434, -57.2115231118), (0, 0))
            Line((0, 0), (-43.1909688485, -46.5487938612))
            ThreePointArc((-43.1909688485, -46.5487938612), (-35.770823687, -52.4661621691), (-27.551617434, -57.2115231118))
        make_face()
        with BuildLine():
            Line((-43.1909688485, -46.5487938612), (0, 0))
            Line((0, 0), (-54.9926131403, -31.75))
            ThreePointArc((-54.9926131403, -31.75), (-49.6462991367, -39.591602418), (-43.1909688485, -46.5487938612))
        make_face()
        with BuildLine():
            Line((-54.9926131403, -31.75), (0, 0))
            Line((0, 0), (-61.9079224235, -14.1300793062))
            ThreePointArc((-61.9079224235, -14.1300793062), (-59.1104830389, -23.1991550473), (-54.9926131403, -31.75))
        make_face()
        with BuildLine():
            Line((-61.9079224235, -14.1300793062), (0, 0))
            Line((0, 0), (-63.322441121, 4.7453609427))
            ThreePointArc((-63.322441121, 4.7453609427), (-63.322441121, -4.7453609427), (-61.9079224235, -14.1300793062))
        make_face()
        with BuildLine():
            Line((-63.322441121, 4.7453609427), (0, 0))
            Line((0, 0), (-59.1104830389, 23.1991550473))
            ThreePointArc((-59.1104830389, 23.1991550473), (-61.9079224235, 14.1300793062), (-63.322441121, 4.7453609427))
        make_face()
    extrude(amount=F5_DEPTH)

    # F0 (on Right) → F6 (join)
    with BuildSketch(Plane.YZ):
        with BuildLine():
            Line((506.579528968, -37.9628875419), (506.579528968, 37.9628875419))
            Line((506.579528968, 37.9628875419), (63.322441121, 4.7453609427))
            ThreePointArc((63.322441121, 4.7453609427), (63.4555947541, 2.3743408365), (63.5, 0))
            ThreePointArc((63.5, 0), (63.1007253282, -7.1097442326), (61.9079224235, -14.1300793062))
            Line((61.9079224235, -14.1300793062), (495.2633793884, -113.0406344498))
            Line((495.2633793884, -113.0406344498), (506.579528968, -37.9628875419))
        make_face()
        with BuildLine():
            Line((345.5277507876, -372.3903508896), (43.1909688485, -46.5487938612))
            ThreePointArc((43.1909688485, -46.5487938612), (35.770823687, -52.4661621691), (27.551617434, -57.2115231118))
            Line((27.551617434, -57.2115231118), (220.4129394717, -457.6921848944))
            Line((220.4129394717, -457.6921848944), (286.1665894963, -419.7292973525))
            Line((286.1665894963, -419.7292973525), (345.5277507876, -372.3903508896))
        make_face()
        with BuildLine():
            Line((-75.7134712175, -502.3260597224), (-9.4641839022, -62.7907574653))
            ThreePointArc((-9.4641839022, -62.7907574653), (-18.7169535751, -60.6788731674), (-27.551617434, -57.2115231118))
            Line((-27.551617434, -57.2115231118), (-220.4129394717, -457.6921848944))
            Line((-220.4129394717, -457.6921848944), (-149.7356286007, -485.4309853394))
            Line((-149.7356286007, -485.4309853394), (-75.7134712175, -502.3260597224))
        make_face()
        with BuildLine():
            Line((-439.9409051225, -254), (-54.9926131403, -31.75))
            ThreePointArc((-54.9926131403, -31.75), (-59.1104830389, -23.1991550473), (-61.9079224235, -14.1300793062))
            Line((-61.9079224235, -14.1300793062), (-495.2633793884, -113.0406344498))
            Line((-495.2633793884, -113.0406344498), (-472.8838643113, -185.5932403781))
            Line((-472.8838643113, -185.5932403781), (-439.9409051225, -254))
        make_face()
        with BuildLine():
            ThreePointArc((-59.1104830389, 23.1991550473), (-54.9926131403, 31.75), (-49.6462991367, 39.591602418))
            Line((-49.6462991367, 39.591602418), (-397.1703930938, 316.7328193442))
            Line((-397.1703930938, 316.7328193442), (-439.9409051225, 254))
            Line((-439.9409051225, 254), (-472.8838643113, 185.5932403781))
            Line((-472.8838643113, 185.5932403781), (-59.1104830389, 23.1991550473))
        make_face()
        with BuildLine():
            ThreePointArc((63.5, 0), (63.4555947541, 2.3743408365), (63.322441121, 4.7453609427))
            Line((63.322441121, 4.7453609427), (0, 0))
            Line((0, 0), (61.9079224235, -14.1300793062))
            ThreePointArc((61.9079224235, -14.1300793062), (63.1007253282, -7.1097442326), (63.5, 0))
        make_face()
        with BuildLine():
            Line((61.9079224235, -14.1300793062), (0, 0))
            Line((0, 0), (54.9926131403, -31.75))
            ThreePointArc((54.9926131403, -31.75), (59.1104830389, -23.1991550473), (61.9079224235, -14.1300793062))
        make_face()
        with BuildLine():
            Line((54.9926131403, -31.75), (0, 0))
            Line((0, 0), (43.1909688485, -46.5487938612))
            ThreePointArc((43.1909688485, -46.5487938612), (49.6462991367, -39.591602418), (54.9926131403, -31.75))
        make_face()
        with BuildLine():
            Line((43.1909688485, -46.5487938612), (0, 0))
            Line((0, 0), (27.551617434, -57.2115231118))
            ThreePointArc((27.551617434, -57.2115231118), (35.770823687, -52.4661621691), (43.1909688485, -46.5487938612))
        make_face()
        with BuildLine():
            Line((27.551617434, -57.2115231118), (0, 0))
            Line((0, 0), (9.4641839022, -62.7907574653))
            ThreePointArc((9.4641839022, -62.7907574653), (18.7169535751, -60.6788731674), (27.551617434, -57.2115231118))
        make_face()
        with BuildLine():
            Line((9.4641839022, -62.7907574653), (0, 0))
            Line((0, 0), (-9.4641839022, -62.7907574653))
            ThreePointArc((-9.4641839022, -62.7907574653), (0, -63.5), (9.4641839022, -62.7907574653))
        make_face()
        with BuildLine():
            Line((-9.4641839022, -62.7907574653), (0, 0))
            Line((0, 0), (-27.551617434, -57.2115231118))
            ThreePointArc((-27.551617434, -57.2115231118), (-18.7169535751, -60.6788731674), (-9.4641839022, -62.7907574653))
        make_face()
        with BuildLine():
            Line((-27.551617434, -57.2115231118), (0, 0))
            Line((0, 0), (-43.1909688485, -46.5487938612))
            ThreePointArc((-43.1909688485, -46.5487938612), (-35.770823687, -52.4661621691), (-27.551617434, -57.2115231118))
        make_face()
        with BuildLine():
            Line((-43.1909688485, -46.5487938612), (0, 0))
            Line((0, 0), (-54.9926131403, -31.75))
            ThreePointArc((-54.9926131403, -31.75), (-49.6462991367, -39.591602418), (-43.1909688485, -46.5487938612))
        make_face()
        with BuildLine():
            Line((-54.9926131403, -31.75), (0, 0))
            Line((0, 0), (-61.9079224235, -14.1300793062))
            ThreePointArc((-61.9079224235, -14.1300793062), (-59.1104830389, -23.1991550473), (-54.9926131403, -31.75))
        make_face()
        with BuildLine():
            Line((-61.9079224235, -14.1300793062), (0, 0))
            Line((0, 0), (-63.322441121, 4.7453609427))
            ThreePointArc((-63.322441121, 4.7453609427), (-63.322441121, -4.7453609427), (-61.9079224235, -14.1300793062))
        make_face()
        with BuildLine():
            Line((-63.322441121, 4.7453609427), (0, 0))
            Line((0, 0), (-59.1104830389, 23.1991550473))
            ThreePointArc((-59.1104830389, 23.1991550473), (-61.9079224235, 14.1300793062), (-63.322441121, 4.7453609427))
        make_face()
        with BuildLine():
            Line((-59.1104830389, 23.1991550473), (0, 0))
            Line((0, 0), (-49.6462991367, 39.591602418))
            ThreePointArc((-49.6462991367, 39.591602418), (-54.9926131403, 31.75), (-59.1104830389, 23.1991550473))
        make_face()
    extrude(amount=F6_DEPTH)

    # F0 (on Right) → F7 (join)
    with BuildSketch(Plane.YZ):
        with BuildLine():
            Line((-49.6462991367, 39.591602418), (0, 0))
            Line((0, 0), (-27.551617434, 57.2115231118))
            ThreePointArc((-27.551617434, 57.2115231118), (-39.591602418, 49.6462991367), (-49.6462991367, 39.591602418))
        make_face()
        with BuildLine():
            Line((-59.1104830389, 23.1991550473), (0, 0))
            Line((0, 0), (-49.6462991367, 39.591602418))
            ThreePointArc((-49.6462991367, 39.591602418), (-54.9926131403, 31.75), (-59.1104830389, 23.1991550473))
        make_face()
        with BuildLine():
            Line((-63.322441121, 4.7453609427), (0, 0))
            Line((0, 0), (-59.1104830389, 23.1991550473))
            ThreePointArc((-59.1104830389, 23.1991550473), (-61.9079224235, 14.1300793062), (-63.322441121, 4.7453609427))
        make_face()
        with BuildLine():
            Line((-61.9079224235, -14.1300793062), (0, 0))
            Line((0, 0), (-63.322441121, 4.7453609427))
            ThreePointArc((-63.322441121, 4.7453609427), (-63.322441121, -4.7453609427), (-61.9079224235, -14.1300793062))
        make_face()
        with BuildLine():
            Line((-54.9926131403, -31.75), (0, 0))
            Line((0, 0), (-61.9079224235, -14.1300793062))
            ThreePointArc((-61.9079224235, -14.1300793062), (-59.1104830389, -23.1991550473), (-54.9926131403, -31.75))
        make_face()
        with BuildLine():
            Line((-43.1909688485, -46.5487938612), (0, 0))
            Line((0, 0), (-54.9926131403, -31.75))
            ThreePointArc((-54.9926131403, -31.75), (-49.6462991367, -39.591602418), (-43.1909688485, -46.5487938612))
        make_face()
        with BuildLine():
            Line((-27.551617434, -57.2115231118), (0, 0))
            Line((0, 0), (-43.1909688485, -46.5487938612))
            ThreePointArc((-43.1909688485, -46.5487938612), (-35.770823687, -52.4661621691), (-27.551617434, -57.2115231118))
        make_face()
        with BuildLine():
            Line((-9.4641839022, -62.7907574653), (0, 0))
            Line((0, 0), (-27.551617434, -57.2115231118))
            ThreePointArc((-27.551617434, -57.2115231118), (-18.7169535751, -60.6788731674), (-9.4641839022, -62.7907574653))
        make_face()
        with BuildLine():
            Line((9.4641839022, -62.7907574653), (0, 0))
            Line((0, 0), (-9.4641839022, -62.7907574653))
            ThreePointArc((-9.4641839022, -62.7907574653), (0, -63.5), (9.4641839022, -62.7907574653))
        make_face()
        with BuildLine():
            Line((27.551617434, -57.2115231118), (0, 0))
            Line((0, 0), (9.4641839022, -62.7907574653))
            ThreePointArc((9.4641839022, -62.7907574653), (18.7169535751, -60.6788731674), (27.551617434, -57.2115231118))
        make_face()
        with BuildLine():
            Line((43.1909688485, -46.5487938612), (0, 0))
            Line((0, 0), (27.551617434, -57.2115231118))
            ThreePointArc((27.551617434, -57.2115231118), (35.770823687, -52.4661621691), (43.1909688485, -46.5487938612))
        make_face()
        with BuildLine():
            Line((54.9926131403, -31.75), (0, 0))
            Line((0, 0), (43.1909688485, -46.5487938612))
            ThreePointArc((43.1909688485, -46.5487938612), (49.6462991367, -39.591602418), (54.9926131403, -31.75))
        make_face()
        with BuildLine():
            Line((61.9079224235, -14.1300793062), (0, 0))
            Line((0, 0), (54.9926131403, -31.75))
            ThreePointArc((54.9926131403, -31.75), (59.1104830389, -23.1991550473), (61.9079224235, -14.1300793062))
        make_face()
        with BuildLine():
            ThreePointArc((63.5, 0), (63.4555947541, 2.3743408365), (63.322441121, 4.7453609427))
            Line((63.322441121, 4.7453609427), (0, 0))
            Line((0, 0), (61.9079224235, -14.1300793062))
            ThreePointArc((61.9079224235, -14.1300793062), (63.1007253282, -7.1097442326), (63.5, 0))
        make_face()
        with BuildLine():
            Line((0, 0), (63.322441121, 4.7453609427))
            ThreePointArc((63.322441121, 4.7453609427), (61.9079224235, 14.1300793062), (59.1104830389, 23.1991550473))
            Line((59.1104830389, 23.1991550473), (0, 0))
        make_face()
        with BuildLine():
            Line((49.6462991367, 39.591602418), (0, 0))
            Line((0, 0), (59.1104830389, 23.1991550473))
            ThreePointArc((59.1104830389, 23.1991550473), (54.9926131403, 31.75), (49.6462991367, 39.591602418))
        make_face()
        with BuildLine():
            Line((27.551617434, 57.2115231118), (0, 0))
            Line((0, 0), (49.6462991367, 39.591602418))
            ThreePointArc((49.6462991367, 39.591602418), (39.591602418, 49.6462991367), (27.551617434, 57.2115231118))
        make_face()
        with BuildLine():
            Line((0, 63.5), (0, 0))
            Line((0, 0), (27.551617434, 57.2115231118))
            ThreePointArc((27.551617434, 57.2115231118), (14.1300793062, 61.9079224235), (0, 63.5))
        make_face()
        with BuildLine():
            Line((-27.551617434, 57.2115231118), (0, 0))
            Line((0, 0), (0, 63.5))
            ThreePointArc((0, 63.5), (-14.1300793062, 61.9079224235), (-27.551617434, 57.2115231118))
        make_face()
    extrude(amount=F7_DEPTH)


solid = f1.part
